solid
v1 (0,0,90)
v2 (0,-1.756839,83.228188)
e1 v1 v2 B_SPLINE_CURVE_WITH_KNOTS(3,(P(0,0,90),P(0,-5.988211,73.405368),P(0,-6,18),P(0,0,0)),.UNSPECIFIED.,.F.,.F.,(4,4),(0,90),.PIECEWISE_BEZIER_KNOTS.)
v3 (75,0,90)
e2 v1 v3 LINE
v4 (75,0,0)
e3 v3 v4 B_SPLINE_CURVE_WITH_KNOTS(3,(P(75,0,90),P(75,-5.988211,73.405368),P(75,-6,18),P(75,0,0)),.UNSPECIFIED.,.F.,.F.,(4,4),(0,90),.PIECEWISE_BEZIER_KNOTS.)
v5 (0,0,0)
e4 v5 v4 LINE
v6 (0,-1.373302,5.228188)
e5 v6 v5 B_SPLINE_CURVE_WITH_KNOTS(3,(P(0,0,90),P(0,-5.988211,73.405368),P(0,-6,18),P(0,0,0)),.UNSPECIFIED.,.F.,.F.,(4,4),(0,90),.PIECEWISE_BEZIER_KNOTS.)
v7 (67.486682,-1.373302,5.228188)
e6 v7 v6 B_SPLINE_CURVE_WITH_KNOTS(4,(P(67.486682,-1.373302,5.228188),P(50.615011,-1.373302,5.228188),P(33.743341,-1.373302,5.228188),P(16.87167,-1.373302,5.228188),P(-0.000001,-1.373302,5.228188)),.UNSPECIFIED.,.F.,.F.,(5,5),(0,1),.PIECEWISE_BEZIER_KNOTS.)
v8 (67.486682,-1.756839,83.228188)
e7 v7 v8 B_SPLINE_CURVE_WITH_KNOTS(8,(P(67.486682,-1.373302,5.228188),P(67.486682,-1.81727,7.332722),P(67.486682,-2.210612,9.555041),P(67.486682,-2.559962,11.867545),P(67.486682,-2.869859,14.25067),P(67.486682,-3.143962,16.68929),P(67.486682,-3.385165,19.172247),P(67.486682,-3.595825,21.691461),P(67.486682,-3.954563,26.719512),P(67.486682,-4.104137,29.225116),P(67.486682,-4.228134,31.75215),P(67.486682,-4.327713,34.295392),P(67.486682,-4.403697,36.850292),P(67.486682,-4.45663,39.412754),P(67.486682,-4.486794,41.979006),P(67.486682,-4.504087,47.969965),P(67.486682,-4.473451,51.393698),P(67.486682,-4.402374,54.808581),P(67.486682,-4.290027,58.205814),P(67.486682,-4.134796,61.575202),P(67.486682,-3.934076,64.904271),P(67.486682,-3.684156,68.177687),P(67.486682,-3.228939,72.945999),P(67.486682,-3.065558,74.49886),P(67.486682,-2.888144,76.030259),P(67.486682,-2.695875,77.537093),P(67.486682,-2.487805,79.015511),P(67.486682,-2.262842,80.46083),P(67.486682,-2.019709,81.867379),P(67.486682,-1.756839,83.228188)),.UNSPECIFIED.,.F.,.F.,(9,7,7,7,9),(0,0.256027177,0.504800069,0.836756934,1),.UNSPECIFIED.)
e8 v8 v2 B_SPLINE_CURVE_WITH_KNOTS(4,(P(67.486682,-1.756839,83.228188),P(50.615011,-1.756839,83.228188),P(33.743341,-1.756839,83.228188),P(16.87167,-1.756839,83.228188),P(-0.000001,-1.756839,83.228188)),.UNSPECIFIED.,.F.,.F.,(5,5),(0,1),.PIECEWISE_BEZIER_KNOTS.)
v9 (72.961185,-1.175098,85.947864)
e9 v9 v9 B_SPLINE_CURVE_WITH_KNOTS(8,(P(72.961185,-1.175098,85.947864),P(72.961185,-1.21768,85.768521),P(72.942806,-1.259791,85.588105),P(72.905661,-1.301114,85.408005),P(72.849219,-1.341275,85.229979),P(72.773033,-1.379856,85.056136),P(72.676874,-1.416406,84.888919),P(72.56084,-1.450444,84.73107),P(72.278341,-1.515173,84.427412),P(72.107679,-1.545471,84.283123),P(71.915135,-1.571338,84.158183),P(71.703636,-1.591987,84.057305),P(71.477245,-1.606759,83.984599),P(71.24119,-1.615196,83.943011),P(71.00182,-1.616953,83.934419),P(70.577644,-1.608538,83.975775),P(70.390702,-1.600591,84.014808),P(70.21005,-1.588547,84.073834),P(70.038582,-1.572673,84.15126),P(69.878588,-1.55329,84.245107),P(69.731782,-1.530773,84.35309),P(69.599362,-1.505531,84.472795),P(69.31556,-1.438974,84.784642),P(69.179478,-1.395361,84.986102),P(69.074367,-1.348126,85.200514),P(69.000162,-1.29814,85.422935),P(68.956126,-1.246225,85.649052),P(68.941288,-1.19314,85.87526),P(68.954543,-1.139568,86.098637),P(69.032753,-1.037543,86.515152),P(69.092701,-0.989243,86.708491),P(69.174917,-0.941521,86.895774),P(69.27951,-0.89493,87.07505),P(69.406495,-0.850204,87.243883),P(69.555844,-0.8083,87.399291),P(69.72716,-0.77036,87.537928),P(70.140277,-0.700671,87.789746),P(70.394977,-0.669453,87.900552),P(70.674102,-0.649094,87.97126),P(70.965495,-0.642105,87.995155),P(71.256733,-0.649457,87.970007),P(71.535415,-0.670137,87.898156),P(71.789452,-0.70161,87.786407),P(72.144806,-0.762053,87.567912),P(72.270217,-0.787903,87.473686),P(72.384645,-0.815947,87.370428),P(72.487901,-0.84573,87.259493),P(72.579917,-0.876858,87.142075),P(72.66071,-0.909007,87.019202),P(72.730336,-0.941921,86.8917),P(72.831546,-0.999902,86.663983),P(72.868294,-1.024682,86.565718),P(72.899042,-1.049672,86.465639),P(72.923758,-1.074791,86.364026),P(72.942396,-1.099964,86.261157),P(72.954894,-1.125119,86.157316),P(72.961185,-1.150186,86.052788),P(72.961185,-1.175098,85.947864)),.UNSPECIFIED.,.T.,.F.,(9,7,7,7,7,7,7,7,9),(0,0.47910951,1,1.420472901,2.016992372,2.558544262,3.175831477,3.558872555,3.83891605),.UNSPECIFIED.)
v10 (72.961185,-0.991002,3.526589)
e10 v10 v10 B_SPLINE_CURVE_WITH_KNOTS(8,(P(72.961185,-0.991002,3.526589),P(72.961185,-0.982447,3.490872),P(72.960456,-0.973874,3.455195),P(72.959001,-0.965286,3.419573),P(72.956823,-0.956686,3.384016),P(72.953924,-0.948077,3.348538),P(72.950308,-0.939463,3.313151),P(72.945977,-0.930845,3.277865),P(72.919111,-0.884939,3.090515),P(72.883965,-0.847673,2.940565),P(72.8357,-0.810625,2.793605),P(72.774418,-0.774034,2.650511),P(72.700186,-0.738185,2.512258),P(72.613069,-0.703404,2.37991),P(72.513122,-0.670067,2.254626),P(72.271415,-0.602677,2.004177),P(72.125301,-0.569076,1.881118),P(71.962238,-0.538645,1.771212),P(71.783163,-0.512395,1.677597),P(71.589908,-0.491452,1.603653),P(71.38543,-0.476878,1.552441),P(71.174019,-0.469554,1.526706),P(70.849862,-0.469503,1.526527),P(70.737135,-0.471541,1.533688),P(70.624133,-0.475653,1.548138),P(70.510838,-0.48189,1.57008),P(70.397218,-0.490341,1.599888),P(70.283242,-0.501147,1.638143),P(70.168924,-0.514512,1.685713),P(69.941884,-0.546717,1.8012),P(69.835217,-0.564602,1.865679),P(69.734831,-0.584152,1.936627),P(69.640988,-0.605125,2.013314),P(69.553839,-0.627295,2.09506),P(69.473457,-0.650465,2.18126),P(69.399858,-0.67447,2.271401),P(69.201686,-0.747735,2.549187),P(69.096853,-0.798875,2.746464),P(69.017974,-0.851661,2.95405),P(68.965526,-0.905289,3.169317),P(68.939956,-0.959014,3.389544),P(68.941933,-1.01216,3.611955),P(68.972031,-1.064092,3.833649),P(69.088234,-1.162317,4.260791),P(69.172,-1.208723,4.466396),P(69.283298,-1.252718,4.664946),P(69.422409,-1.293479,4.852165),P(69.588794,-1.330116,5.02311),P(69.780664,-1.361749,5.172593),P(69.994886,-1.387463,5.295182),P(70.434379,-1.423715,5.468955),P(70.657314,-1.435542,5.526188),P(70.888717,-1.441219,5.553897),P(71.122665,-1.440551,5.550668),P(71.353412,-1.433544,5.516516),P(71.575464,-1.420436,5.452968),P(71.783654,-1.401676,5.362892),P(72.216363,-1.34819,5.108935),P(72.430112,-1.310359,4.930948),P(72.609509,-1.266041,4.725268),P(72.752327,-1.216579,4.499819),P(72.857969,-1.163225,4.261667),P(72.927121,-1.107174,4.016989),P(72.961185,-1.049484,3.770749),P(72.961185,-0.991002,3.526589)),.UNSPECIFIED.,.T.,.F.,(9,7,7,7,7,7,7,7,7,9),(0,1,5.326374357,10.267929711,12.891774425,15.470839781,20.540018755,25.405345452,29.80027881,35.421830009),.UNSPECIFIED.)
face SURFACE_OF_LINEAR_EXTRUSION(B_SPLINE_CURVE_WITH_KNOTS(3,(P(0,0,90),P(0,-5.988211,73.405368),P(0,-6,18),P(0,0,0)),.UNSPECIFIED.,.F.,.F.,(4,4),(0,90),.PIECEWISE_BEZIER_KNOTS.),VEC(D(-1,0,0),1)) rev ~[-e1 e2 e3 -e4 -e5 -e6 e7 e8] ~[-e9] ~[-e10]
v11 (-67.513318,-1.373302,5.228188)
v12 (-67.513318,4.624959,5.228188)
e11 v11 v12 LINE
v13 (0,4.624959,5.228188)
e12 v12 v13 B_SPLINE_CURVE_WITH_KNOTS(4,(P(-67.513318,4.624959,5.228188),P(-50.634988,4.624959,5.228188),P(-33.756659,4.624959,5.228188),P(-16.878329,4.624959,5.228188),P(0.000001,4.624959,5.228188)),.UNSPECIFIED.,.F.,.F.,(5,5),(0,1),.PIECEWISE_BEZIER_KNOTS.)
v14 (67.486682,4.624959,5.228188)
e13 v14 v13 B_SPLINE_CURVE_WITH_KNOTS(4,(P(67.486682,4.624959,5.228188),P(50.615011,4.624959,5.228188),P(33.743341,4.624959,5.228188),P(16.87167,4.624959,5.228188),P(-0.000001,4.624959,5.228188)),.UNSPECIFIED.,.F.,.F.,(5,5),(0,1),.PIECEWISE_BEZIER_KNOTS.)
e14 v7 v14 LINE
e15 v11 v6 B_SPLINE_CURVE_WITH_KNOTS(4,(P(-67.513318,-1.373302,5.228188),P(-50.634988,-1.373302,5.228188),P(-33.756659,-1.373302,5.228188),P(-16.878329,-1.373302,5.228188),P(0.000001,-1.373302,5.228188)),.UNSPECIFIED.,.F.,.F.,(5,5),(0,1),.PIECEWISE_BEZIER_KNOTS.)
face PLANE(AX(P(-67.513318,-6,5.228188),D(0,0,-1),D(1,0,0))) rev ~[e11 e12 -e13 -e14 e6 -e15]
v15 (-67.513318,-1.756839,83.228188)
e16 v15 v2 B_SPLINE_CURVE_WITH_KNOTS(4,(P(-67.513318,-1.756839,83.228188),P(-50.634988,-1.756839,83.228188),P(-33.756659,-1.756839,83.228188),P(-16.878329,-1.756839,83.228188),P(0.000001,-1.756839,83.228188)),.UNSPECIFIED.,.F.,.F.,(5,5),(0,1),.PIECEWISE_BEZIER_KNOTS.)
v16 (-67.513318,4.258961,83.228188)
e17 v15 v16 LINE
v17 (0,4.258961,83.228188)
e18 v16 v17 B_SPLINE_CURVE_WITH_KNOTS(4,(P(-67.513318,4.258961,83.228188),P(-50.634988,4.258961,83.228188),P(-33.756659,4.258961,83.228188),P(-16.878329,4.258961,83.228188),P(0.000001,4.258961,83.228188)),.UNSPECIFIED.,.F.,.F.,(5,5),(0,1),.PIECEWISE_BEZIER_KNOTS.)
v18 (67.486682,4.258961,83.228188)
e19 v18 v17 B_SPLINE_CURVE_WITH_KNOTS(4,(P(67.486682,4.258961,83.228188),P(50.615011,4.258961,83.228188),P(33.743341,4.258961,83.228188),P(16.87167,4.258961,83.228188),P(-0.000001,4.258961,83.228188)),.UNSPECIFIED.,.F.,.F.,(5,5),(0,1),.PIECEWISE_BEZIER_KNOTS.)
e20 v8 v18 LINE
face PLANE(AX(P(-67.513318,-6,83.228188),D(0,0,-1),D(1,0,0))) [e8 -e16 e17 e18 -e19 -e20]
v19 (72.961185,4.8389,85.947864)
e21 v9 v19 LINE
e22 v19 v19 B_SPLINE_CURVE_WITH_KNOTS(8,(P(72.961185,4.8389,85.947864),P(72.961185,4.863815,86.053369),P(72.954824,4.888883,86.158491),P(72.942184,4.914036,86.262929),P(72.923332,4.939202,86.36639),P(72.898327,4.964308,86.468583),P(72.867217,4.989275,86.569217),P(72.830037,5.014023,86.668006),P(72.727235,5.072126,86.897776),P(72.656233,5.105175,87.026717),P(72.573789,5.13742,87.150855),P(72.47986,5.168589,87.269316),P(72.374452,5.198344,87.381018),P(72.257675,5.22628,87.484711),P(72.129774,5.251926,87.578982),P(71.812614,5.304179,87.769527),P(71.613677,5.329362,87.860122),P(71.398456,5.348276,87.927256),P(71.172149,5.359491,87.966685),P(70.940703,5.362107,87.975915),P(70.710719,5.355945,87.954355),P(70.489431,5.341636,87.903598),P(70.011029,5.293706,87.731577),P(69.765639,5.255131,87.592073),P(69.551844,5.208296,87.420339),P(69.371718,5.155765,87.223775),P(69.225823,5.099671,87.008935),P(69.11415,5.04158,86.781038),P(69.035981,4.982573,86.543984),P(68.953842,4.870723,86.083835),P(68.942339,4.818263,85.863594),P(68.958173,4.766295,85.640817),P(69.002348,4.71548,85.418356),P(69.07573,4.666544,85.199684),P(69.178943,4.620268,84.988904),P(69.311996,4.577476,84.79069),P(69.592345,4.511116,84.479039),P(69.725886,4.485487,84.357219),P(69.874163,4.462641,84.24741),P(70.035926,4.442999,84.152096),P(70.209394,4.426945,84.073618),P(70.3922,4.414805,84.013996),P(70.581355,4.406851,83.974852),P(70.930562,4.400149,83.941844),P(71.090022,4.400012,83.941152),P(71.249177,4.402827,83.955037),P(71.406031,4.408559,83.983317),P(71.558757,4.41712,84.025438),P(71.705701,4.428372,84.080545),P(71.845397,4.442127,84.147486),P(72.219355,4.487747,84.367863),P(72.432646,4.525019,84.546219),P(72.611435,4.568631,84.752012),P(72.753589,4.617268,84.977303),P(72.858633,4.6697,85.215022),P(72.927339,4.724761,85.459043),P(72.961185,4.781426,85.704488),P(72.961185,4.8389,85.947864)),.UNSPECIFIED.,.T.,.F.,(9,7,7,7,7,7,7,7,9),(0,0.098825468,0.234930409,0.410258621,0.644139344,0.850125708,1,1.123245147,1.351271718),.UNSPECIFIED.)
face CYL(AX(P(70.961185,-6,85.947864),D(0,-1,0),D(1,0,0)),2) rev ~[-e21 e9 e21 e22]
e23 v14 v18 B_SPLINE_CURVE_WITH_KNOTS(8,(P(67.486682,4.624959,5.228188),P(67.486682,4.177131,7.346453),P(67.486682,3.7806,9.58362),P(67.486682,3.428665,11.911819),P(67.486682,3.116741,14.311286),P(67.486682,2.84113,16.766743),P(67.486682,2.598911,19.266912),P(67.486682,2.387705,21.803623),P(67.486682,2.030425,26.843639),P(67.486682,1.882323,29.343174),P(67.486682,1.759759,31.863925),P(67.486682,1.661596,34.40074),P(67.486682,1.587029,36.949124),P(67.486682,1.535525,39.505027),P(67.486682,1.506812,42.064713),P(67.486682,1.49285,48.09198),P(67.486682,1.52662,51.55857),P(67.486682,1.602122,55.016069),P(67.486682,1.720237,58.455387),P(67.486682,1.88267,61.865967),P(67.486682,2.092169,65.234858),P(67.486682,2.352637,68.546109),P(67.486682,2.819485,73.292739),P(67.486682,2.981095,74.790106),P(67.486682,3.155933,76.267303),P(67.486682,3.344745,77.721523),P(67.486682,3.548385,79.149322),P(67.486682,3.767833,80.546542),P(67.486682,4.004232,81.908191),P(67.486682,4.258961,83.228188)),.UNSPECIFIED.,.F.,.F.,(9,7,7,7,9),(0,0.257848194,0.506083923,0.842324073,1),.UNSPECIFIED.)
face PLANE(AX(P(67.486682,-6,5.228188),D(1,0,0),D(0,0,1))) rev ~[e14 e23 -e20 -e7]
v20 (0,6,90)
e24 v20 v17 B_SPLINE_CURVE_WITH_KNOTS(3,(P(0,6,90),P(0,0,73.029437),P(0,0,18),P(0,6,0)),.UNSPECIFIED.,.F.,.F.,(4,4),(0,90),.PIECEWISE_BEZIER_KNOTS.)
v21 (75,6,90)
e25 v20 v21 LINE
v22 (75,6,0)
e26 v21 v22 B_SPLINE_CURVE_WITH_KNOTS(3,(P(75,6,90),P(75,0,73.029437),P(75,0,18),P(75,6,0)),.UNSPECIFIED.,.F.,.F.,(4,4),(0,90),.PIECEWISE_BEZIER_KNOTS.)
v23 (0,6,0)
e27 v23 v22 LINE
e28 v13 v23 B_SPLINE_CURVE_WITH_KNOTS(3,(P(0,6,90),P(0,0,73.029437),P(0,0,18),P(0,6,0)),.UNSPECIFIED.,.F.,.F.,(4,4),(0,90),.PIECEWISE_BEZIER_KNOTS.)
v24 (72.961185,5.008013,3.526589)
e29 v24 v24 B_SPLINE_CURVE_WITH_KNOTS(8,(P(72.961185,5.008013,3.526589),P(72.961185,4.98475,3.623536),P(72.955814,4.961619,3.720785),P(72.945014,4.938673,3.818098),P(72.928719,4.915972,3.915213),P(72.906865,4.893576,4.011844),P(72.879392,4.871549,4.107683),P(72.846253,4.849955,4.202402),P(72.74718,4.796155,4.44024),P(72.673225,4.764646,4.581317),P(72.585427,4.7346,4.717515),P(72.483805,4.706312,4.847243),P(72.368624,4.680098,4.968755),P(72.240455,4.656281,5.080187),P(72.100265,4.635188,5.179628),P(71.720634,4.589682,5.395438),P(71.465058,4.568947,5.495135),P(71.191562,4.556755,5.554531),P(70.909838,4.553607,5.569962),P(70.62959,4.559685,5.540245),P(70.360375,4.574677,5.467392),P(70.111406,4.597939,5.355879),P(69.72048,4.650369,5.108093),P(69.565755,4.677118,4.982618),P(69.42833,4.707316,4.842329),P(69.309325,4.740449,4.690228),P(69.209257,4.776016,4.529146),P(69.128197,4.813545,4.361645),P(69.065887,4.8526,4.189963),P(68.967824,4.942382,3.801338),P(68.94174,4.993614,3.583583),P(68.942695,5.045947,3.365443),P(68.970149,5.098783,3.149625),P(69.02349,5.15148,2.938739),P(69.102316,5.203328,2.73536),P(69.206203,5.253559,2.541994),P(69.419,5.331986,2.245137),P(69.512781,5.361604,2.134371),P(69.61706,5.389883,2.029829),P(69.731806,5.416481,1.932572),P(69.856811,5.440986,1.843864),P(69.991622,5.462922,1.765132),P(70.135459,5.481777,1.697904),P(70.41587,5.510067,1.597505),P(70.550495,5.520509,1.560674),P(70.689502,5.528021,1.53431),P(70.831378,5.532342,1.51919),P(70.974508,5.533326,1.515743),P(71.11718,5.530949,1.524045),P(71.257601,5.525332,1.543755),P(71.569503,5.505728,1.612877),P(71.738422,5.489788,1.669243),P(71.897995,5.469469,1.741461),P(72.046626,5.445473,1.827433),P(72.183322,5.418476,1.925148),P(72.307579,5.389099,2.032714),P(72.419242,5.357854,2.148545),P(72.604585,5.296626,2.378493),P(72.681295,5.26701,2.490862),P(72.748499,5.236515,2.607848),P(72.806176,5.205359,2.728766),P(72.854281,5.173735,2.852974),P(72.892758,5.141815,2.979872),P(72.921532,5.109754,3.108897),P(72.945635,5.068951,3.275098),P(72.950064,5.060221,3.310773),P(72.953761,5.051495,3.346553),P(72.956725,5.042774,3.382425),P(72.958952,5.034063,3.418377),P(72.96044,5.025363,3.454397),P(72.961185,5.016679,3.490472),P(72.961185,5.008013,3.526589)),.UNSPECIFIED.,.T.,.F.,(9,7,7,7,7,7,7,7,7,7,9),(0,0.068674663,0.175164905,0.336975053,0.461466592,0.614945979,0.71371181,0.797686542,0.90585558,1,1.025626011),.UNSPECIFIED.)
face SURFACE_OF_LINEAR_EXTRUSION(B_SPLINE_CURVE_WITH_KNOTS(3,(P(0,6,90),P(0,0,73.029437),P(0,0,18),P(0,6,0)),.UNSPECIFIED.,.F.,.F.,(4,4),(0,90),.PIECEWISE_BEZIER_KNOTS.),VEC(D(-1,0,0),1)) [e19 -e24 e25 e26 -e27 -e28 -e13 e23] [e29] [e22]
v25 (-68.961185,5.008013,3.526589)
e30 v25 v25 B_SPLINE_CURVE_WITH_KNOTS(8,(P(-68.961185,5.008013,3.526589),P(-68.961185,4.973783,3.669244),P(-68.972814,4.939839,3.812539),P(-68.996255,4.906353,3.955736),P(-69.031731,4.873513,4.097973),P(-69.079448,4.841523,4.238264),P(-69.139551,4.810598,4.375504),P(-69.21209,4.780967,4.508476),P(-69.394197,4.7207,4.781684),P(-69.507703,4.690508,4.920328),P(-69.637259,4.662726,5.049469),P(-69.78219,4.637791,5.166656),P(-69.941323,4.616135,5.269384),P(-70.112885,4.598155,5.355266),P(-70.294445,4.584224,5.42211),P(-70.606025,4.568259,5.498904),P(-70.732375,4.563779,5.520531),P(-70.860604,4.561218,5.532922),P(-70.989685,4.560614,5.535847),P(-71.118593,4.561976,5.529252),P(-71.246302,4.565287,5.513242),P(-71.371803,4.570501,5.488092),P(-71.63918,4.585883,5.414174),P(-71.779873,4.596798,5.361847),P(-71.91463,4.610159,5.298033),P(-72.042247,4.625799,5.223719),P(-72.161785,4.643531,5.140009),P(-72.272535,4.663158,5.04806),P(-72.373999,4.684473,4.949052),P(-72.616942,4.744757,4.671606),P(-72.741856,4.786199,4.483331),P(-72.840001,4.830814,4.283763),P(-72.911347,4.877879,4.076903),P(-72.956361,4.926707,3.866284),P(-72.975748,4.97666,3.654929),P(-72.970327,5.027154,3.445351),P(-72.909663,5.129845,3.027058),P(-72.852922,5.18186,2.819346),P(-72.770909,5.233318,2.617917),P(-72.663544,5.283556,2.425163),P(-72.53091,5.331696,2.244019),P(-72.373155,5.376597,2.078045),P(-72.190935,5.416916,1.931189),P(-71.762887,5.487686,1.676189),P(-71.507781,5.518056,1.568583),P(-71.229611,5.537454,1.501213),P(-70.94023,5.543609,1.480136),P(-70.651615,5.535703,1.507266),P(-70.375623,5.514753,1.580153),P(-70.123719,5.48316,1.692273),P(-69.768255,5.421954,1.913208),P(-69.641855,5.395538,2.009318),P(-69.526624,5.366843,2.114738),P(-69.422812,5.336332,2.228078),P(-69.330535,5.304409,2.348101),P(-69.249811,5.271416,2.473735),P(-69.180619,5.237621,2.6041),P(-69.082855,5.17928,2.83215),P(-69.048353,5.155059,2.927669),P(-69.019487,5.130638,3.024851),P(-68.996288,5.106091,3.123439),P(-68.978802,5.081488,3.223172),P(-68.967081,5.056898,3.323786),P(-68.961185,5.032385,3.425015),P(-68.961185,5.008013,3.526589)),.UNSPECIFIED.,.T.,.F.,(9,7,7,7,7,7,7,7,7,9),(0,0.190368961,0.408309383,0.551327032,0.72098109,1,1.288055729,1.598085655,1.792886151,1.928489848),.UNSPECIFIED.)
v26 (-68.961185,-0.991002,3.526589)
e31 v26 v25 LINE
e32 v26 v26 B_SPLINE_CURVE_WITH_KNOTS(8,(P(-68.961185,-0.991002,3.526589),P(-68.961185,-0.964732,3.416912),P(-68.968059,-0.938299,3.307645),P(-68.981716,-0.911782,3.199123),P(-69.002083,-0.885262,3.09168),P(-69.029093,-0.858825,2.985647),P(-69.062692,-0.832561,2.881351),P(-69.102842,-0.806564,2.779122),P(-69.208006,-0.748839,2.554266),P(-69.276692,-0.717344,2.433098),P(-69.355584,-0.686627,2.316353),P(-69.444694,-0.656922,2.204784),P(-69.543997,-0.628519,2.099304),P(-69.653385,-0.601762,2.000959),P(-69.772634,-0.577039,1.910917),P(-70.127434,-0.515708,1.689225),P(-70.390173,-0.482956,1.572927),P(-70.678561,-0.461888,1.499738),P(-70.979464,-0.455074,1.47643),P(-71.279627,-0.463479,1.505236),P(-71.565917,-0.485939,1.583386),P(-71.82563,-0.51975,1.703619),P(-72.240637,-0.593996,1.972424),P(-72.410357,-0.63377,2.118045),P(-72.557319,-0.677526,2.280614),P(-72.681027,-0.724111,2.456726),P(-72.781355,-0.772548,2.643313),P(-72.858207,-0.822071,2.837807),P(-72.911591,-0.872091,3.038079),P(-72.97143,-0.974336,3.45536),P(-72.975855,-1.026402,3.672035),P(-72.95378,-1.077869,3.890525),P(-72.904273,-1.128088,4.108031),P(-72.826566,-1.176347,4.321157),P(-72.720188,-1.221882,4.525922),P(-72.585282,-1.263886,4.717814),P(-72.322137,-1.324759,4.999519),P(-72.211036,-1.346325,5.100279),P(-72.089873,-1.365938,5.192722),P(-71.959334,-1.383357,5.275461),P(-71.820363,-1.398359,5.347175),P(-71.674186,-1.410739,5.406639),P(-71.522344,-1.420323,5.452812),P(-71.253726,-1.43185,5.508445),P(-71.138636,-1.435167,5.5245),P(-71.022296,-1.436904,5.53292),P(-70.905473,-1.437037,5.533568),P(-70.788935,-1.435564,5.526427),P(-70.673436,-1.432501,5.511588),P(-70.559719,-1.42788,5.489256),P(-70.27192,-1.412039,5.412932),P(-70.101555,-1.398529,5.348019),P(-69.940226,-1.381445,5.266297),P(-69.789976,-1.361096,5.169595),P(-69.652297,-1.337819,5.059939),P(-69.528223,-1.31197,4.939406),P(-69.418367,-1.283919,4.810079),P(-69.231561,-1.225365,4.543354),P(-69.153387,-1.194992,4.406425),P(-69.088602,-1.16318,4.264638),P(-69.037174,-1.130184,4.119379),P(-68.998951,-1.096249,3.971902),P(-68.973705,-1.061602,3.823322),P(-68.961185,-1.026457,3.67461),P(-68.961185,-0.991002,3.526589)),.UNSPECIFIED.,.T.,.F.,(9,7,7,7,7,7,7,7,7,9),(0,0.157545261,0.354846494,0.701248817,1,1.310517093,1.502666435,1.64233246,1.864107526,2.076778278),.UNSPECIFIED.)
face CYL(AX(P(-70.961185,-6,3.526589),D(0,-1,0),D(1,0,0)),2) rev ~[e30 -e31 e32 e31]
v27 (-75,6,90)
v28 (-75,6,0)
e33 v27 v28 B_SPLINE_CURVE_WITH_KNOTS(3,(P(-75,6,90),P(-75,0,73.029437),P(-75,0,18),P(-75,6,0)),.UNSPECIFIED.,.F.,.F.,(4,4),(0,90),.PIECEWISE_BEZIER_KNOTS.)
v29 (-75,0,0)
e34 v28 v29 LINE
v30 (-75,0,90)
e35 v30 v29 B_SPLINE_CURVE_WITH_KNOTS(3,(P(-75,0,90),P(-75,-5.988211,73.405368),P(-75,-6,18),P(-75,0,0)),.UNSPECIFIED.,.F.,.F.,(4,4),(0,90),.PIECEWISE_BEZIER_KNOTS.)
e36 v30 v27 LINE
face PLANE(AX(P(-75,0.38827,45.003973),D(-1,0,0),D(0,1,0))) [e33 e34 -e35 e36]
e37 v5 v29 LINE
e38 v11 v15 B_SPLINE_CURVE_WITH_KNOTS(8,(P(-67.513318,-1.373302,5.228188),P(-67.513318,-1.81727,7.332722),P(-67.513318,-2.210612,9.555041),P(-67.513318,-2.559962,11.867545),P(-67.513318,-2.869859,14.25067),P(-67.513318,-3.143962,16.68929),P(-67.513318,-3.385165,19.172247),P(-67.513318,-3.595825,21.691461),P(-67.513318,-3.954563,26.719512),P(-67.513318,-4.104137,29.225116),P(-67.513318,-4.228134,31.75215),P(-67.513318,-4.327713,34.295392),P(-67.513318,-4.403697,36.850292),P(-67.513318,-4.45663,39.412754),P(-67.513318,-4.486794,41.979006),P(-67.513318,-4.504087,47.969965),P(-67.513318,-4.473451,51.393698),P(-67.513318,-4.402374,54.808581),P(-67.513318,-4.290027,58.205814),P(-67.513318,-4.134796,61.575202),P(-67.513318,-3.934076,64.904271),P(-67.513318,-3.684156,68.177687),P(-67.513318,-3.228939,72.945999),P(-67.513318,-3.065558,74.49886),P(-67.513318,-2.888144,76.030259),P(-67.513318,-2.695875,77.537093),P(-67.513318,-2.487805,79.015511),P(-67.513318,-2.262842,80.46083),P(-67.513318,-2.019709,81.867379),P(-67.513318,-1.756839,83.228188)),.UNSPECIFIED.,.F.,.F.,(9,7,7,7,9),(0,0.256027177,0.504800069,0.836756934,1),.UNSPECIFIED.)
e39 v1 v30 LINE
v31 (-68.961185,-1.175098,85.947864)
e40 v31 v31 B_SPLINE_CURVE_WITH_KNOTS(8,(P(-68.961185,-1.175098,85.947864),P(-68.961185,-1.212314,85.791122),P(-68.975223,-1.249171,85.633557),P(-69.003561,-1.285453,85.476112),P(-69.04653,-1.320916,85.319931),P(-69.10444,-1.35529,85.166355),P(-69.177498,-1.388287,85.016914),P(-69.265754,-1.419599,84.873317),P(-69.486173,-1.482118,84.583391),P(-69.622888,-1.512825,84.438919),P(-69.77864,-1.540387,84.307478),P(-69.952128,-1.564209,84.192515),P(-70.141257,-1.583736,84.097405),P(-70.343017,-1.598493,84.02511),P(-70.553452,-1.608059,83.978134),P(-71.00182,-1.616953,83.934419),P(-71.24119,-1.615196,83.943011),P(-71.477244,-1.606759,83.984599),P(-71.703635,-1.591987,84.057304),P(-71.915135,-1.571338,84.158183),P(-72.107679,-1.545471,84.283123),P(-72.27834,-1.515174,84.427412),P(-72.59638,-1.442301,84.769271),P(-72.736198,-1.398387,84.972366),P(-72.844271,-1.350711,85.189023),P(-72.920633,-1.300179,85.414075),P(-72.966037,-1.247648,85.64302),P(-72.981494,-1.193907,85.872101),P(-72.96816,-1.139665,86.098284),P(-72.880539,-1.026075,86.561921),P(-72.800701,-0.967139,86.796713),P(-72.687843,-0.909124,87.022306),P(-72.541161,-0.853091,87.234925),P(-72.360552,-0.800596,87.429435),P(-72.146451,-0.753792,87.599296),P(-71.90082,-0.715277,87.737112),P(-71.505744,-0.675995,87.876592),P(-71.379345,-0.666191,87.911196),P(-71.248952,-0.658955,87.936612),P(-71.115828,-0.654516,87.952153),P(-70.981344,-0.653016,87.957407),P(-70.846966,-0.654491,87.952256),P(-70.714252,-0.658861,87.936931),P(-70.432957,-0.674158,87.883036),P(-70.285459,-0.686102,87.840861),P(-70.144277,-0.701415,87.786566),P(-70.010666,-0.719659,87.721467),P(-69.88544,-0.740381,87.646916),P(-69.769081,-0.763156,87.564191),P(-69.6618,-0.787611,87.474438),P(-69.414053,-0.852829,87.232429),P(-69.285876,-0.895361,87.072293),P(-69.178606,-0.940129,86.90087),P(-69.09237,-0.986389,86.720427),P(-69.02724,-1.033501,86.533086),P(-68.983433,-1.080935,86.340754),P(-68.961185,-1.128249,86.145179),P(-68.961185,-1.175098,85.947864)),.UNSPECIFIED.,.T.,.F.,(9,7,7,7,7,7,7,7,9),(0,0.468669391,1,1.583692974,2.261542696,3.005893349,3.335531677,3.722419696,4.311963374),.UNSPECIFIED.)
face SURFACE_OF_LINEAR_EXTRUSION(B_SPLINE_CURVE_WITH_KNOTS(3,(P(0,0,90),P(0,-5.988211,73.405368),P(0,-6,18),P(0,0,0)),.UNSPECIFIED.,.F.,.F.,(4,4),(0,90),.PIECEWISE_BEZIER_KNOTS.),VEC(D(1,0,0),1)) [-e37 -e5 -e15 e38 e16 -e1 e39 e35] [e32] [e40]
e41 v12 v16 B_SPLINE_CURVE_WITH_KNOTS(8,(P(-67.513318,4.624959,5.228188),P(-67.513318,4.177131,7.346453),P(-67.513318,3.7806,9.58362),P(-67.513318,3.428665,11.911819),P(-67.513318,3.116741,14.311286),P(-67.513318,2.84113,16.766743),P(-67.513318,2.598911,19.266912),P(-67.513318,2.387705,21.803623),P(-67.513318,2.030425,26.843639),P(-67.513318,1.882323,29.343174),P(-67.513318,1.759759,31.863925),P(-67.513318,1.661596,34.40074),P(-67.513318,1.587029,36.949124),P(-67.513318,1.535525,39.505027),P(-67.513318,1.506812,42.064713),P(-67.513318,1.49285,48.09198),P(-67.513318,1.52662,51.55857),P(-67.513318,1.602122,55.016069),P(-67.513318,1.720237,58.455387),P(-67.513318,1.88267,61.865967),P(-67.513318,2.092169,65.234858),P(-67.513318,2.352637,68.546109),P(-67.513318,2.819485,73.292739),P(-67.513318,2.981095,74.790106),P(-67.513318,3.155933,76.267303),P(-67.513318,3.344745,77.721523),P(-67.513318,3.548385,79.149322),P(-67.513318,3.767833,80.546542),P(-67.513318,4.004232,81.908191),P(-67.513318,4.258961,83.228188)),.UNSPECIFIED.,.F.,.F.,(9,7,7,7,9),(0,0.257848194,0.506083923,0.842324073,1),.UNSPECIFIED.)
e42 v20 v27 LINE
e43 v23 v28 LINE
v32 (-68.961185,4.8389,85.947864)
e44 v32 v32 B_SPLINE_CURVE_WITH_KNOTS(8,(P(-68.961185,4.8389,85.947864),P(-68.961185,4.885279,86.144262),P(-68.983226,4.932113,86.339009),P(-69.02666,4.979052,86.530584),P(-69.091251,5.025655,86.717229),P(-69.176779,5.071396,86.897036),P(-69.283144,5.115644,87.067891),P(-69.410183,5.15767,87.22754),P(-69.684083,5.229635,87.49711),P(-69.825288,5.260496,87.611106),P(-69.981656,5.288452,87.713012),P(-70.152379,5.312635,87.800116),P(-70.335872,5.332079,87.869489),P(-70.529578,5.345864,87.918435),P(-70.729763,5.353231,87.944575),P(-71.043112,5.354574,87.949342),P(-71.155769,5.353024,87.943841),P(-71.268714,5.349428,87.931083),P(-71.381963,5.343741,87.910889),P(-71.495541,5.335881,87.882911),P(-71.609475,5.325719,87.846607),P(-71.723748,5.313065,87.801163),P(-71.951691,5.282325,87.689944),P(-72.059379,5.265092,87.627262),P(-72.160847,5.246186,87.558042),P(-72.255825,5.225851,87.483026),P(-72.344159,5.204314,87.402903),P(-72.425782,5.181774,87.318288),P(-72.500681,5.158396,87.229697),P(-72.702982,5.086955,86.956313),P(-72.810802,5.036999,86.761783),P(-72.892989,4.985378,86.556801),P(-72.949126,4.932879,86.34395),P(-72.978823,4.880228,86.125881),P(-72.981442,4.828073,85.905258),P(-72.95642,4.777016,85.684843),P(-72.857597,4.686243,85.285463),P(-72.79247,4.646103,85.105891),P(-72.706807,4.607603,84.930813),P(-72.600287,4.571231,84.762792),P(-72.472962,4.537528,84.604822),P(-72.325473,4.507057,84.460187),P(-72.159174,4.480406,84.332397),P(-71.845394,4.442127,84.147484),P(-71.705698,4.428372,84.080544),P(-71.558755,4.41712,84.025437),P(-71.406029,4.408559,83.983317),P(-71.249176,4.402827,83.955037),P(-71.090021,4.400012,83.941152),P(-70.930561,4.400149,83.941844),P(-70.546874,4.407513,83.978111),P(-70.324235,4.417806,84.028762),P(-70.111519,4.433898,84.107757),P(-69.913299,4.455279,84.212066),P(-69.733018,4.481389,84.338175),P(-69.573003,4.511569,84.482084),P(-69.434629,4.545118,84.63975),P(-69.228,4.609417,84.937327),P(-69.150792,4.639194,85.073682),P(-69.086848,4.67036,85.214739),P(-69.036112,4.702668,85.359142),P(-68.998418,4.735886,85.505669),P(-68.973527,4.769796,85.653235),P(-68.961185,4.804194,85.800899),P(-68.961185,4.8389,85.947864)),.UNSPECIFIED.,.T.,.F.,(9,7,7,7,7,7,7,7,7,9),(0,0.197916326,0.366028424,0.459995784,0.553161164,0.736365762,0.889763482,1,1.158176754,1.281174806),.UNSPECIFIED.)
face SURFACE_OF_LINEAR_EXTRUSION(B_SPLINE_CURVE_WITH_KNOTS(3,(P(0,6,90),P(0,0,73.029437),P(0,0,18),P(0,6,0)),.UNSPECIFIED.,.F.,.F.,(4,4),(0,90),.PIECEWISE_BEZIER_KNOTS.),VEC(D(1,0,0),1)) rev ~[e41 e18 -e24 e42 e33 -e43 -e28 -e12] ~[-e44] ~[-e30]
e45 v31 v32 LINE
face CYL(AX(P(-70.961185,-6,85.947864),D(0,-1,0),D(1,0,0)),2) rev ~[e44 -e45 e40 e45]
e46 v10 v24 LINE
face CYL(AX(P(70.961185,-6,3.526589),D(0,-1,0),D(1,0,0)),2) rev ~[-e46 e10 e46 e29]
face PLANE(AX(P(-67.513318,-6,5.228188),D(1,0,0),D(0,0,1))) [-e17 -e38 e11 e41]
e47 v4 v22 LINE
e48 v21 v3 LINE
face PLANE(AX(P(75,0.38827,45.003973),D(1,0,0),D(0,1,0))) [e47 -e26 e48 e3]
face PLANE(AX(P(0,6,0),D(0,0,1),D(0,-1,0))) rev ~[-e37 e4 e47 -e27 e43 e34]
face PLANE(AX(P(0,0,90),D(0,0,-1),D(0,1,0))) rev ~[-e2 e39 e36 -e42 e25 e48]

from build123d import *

# Parameters (mm, degrees)
F1_DEPTH = 75
F2_DEPTH = 75
F4_W     = 135
F4_H     = 78
F5_DEPTH = 12
F6_R     = 2
F7_DEPTH = 25


with BuildPart() as f1:
    # F0 (on Right) → F1 (new body)
    with BuildSketch(Plane.YZ):
        with BuildLine():
            Line((6, 90), (0, 90))
            add(Edge.make_bspline(
                [(0, 90), (-5.988211, 73.405368), (-6, 18), (0, 0)],
                knots=[0, 0, 0, 0, 90, 90, 90, 90], degree=3))
            Line((0, 0), (6, 0))
            add(Edge.make_bspline(
                [(6, 90), (0, 73.029437), (0, 18), (6, 0)],
                knots=[0, 0, 0, 0, 90, 90, 90, 90], degree=3))
        make_face()
    extrude(amount=F1_DEPTH)

    # F1_face (on face) → F2 (join)
    with BuildSketch(Plane(origin=(0, -0.249906, 45.026938), x_dir=(0, 1, 0), z_dir=(-1, 0, 0))):
        with BuildLine():
            Line((0.249906, -44.973062), (6.249906, -44.973062))
            add(Edge.make_bspline(
                [(6.249906, -44.973062), (0.249906, -28.002499), (0.249906, 27.026938), (6.249906, 45.026938)],
                knots=[0, 0, 0, 0, 90, 90, 90, 90], degree=3))
            Line((6.249906, 45.026938), (0.249906, 45.026938))
            add(Edge.make_bspline(
                [(0.249906, -44.973062), (-5.738305, -28.37843), (-5.750094, 27.026938), (0.249906, 45.026938)],
                knots=[0, 0, 0, 0, 90, 90, 90, 90], degree=3))
        make_face()
    extrude(amount=F2_DEPTH)

    # F4 (on offset) → F5 (cut)
    with BuildSketch(Plane.XZ.offset(6)):
        with Locations((-0.013318, 44.228188)):
            Rectangle(F4_W, F4_H)
    extrude(amount=-F5_DEPTH, mode=Mode.SUBTRACT)

    # F6 (on offset) → F7 (cut)
    with BuildSketch(Plane.XZ.offset(6)):
        with Locations((-70.961185, 85.947864)):
            Circle(F6_R)
        with Locations((70.961185, 85.947864)):
            Circle(F6_R)
        with Locations((70.961185, 3.526589)):
            Circle(F6_R)
        with Locations((-70.961185, 3.526589)):
            Circle(F6_R)
    extrude(amount=-F7_DEPTH, mode=Mode.SUBTRACT)


solid = f1.part
